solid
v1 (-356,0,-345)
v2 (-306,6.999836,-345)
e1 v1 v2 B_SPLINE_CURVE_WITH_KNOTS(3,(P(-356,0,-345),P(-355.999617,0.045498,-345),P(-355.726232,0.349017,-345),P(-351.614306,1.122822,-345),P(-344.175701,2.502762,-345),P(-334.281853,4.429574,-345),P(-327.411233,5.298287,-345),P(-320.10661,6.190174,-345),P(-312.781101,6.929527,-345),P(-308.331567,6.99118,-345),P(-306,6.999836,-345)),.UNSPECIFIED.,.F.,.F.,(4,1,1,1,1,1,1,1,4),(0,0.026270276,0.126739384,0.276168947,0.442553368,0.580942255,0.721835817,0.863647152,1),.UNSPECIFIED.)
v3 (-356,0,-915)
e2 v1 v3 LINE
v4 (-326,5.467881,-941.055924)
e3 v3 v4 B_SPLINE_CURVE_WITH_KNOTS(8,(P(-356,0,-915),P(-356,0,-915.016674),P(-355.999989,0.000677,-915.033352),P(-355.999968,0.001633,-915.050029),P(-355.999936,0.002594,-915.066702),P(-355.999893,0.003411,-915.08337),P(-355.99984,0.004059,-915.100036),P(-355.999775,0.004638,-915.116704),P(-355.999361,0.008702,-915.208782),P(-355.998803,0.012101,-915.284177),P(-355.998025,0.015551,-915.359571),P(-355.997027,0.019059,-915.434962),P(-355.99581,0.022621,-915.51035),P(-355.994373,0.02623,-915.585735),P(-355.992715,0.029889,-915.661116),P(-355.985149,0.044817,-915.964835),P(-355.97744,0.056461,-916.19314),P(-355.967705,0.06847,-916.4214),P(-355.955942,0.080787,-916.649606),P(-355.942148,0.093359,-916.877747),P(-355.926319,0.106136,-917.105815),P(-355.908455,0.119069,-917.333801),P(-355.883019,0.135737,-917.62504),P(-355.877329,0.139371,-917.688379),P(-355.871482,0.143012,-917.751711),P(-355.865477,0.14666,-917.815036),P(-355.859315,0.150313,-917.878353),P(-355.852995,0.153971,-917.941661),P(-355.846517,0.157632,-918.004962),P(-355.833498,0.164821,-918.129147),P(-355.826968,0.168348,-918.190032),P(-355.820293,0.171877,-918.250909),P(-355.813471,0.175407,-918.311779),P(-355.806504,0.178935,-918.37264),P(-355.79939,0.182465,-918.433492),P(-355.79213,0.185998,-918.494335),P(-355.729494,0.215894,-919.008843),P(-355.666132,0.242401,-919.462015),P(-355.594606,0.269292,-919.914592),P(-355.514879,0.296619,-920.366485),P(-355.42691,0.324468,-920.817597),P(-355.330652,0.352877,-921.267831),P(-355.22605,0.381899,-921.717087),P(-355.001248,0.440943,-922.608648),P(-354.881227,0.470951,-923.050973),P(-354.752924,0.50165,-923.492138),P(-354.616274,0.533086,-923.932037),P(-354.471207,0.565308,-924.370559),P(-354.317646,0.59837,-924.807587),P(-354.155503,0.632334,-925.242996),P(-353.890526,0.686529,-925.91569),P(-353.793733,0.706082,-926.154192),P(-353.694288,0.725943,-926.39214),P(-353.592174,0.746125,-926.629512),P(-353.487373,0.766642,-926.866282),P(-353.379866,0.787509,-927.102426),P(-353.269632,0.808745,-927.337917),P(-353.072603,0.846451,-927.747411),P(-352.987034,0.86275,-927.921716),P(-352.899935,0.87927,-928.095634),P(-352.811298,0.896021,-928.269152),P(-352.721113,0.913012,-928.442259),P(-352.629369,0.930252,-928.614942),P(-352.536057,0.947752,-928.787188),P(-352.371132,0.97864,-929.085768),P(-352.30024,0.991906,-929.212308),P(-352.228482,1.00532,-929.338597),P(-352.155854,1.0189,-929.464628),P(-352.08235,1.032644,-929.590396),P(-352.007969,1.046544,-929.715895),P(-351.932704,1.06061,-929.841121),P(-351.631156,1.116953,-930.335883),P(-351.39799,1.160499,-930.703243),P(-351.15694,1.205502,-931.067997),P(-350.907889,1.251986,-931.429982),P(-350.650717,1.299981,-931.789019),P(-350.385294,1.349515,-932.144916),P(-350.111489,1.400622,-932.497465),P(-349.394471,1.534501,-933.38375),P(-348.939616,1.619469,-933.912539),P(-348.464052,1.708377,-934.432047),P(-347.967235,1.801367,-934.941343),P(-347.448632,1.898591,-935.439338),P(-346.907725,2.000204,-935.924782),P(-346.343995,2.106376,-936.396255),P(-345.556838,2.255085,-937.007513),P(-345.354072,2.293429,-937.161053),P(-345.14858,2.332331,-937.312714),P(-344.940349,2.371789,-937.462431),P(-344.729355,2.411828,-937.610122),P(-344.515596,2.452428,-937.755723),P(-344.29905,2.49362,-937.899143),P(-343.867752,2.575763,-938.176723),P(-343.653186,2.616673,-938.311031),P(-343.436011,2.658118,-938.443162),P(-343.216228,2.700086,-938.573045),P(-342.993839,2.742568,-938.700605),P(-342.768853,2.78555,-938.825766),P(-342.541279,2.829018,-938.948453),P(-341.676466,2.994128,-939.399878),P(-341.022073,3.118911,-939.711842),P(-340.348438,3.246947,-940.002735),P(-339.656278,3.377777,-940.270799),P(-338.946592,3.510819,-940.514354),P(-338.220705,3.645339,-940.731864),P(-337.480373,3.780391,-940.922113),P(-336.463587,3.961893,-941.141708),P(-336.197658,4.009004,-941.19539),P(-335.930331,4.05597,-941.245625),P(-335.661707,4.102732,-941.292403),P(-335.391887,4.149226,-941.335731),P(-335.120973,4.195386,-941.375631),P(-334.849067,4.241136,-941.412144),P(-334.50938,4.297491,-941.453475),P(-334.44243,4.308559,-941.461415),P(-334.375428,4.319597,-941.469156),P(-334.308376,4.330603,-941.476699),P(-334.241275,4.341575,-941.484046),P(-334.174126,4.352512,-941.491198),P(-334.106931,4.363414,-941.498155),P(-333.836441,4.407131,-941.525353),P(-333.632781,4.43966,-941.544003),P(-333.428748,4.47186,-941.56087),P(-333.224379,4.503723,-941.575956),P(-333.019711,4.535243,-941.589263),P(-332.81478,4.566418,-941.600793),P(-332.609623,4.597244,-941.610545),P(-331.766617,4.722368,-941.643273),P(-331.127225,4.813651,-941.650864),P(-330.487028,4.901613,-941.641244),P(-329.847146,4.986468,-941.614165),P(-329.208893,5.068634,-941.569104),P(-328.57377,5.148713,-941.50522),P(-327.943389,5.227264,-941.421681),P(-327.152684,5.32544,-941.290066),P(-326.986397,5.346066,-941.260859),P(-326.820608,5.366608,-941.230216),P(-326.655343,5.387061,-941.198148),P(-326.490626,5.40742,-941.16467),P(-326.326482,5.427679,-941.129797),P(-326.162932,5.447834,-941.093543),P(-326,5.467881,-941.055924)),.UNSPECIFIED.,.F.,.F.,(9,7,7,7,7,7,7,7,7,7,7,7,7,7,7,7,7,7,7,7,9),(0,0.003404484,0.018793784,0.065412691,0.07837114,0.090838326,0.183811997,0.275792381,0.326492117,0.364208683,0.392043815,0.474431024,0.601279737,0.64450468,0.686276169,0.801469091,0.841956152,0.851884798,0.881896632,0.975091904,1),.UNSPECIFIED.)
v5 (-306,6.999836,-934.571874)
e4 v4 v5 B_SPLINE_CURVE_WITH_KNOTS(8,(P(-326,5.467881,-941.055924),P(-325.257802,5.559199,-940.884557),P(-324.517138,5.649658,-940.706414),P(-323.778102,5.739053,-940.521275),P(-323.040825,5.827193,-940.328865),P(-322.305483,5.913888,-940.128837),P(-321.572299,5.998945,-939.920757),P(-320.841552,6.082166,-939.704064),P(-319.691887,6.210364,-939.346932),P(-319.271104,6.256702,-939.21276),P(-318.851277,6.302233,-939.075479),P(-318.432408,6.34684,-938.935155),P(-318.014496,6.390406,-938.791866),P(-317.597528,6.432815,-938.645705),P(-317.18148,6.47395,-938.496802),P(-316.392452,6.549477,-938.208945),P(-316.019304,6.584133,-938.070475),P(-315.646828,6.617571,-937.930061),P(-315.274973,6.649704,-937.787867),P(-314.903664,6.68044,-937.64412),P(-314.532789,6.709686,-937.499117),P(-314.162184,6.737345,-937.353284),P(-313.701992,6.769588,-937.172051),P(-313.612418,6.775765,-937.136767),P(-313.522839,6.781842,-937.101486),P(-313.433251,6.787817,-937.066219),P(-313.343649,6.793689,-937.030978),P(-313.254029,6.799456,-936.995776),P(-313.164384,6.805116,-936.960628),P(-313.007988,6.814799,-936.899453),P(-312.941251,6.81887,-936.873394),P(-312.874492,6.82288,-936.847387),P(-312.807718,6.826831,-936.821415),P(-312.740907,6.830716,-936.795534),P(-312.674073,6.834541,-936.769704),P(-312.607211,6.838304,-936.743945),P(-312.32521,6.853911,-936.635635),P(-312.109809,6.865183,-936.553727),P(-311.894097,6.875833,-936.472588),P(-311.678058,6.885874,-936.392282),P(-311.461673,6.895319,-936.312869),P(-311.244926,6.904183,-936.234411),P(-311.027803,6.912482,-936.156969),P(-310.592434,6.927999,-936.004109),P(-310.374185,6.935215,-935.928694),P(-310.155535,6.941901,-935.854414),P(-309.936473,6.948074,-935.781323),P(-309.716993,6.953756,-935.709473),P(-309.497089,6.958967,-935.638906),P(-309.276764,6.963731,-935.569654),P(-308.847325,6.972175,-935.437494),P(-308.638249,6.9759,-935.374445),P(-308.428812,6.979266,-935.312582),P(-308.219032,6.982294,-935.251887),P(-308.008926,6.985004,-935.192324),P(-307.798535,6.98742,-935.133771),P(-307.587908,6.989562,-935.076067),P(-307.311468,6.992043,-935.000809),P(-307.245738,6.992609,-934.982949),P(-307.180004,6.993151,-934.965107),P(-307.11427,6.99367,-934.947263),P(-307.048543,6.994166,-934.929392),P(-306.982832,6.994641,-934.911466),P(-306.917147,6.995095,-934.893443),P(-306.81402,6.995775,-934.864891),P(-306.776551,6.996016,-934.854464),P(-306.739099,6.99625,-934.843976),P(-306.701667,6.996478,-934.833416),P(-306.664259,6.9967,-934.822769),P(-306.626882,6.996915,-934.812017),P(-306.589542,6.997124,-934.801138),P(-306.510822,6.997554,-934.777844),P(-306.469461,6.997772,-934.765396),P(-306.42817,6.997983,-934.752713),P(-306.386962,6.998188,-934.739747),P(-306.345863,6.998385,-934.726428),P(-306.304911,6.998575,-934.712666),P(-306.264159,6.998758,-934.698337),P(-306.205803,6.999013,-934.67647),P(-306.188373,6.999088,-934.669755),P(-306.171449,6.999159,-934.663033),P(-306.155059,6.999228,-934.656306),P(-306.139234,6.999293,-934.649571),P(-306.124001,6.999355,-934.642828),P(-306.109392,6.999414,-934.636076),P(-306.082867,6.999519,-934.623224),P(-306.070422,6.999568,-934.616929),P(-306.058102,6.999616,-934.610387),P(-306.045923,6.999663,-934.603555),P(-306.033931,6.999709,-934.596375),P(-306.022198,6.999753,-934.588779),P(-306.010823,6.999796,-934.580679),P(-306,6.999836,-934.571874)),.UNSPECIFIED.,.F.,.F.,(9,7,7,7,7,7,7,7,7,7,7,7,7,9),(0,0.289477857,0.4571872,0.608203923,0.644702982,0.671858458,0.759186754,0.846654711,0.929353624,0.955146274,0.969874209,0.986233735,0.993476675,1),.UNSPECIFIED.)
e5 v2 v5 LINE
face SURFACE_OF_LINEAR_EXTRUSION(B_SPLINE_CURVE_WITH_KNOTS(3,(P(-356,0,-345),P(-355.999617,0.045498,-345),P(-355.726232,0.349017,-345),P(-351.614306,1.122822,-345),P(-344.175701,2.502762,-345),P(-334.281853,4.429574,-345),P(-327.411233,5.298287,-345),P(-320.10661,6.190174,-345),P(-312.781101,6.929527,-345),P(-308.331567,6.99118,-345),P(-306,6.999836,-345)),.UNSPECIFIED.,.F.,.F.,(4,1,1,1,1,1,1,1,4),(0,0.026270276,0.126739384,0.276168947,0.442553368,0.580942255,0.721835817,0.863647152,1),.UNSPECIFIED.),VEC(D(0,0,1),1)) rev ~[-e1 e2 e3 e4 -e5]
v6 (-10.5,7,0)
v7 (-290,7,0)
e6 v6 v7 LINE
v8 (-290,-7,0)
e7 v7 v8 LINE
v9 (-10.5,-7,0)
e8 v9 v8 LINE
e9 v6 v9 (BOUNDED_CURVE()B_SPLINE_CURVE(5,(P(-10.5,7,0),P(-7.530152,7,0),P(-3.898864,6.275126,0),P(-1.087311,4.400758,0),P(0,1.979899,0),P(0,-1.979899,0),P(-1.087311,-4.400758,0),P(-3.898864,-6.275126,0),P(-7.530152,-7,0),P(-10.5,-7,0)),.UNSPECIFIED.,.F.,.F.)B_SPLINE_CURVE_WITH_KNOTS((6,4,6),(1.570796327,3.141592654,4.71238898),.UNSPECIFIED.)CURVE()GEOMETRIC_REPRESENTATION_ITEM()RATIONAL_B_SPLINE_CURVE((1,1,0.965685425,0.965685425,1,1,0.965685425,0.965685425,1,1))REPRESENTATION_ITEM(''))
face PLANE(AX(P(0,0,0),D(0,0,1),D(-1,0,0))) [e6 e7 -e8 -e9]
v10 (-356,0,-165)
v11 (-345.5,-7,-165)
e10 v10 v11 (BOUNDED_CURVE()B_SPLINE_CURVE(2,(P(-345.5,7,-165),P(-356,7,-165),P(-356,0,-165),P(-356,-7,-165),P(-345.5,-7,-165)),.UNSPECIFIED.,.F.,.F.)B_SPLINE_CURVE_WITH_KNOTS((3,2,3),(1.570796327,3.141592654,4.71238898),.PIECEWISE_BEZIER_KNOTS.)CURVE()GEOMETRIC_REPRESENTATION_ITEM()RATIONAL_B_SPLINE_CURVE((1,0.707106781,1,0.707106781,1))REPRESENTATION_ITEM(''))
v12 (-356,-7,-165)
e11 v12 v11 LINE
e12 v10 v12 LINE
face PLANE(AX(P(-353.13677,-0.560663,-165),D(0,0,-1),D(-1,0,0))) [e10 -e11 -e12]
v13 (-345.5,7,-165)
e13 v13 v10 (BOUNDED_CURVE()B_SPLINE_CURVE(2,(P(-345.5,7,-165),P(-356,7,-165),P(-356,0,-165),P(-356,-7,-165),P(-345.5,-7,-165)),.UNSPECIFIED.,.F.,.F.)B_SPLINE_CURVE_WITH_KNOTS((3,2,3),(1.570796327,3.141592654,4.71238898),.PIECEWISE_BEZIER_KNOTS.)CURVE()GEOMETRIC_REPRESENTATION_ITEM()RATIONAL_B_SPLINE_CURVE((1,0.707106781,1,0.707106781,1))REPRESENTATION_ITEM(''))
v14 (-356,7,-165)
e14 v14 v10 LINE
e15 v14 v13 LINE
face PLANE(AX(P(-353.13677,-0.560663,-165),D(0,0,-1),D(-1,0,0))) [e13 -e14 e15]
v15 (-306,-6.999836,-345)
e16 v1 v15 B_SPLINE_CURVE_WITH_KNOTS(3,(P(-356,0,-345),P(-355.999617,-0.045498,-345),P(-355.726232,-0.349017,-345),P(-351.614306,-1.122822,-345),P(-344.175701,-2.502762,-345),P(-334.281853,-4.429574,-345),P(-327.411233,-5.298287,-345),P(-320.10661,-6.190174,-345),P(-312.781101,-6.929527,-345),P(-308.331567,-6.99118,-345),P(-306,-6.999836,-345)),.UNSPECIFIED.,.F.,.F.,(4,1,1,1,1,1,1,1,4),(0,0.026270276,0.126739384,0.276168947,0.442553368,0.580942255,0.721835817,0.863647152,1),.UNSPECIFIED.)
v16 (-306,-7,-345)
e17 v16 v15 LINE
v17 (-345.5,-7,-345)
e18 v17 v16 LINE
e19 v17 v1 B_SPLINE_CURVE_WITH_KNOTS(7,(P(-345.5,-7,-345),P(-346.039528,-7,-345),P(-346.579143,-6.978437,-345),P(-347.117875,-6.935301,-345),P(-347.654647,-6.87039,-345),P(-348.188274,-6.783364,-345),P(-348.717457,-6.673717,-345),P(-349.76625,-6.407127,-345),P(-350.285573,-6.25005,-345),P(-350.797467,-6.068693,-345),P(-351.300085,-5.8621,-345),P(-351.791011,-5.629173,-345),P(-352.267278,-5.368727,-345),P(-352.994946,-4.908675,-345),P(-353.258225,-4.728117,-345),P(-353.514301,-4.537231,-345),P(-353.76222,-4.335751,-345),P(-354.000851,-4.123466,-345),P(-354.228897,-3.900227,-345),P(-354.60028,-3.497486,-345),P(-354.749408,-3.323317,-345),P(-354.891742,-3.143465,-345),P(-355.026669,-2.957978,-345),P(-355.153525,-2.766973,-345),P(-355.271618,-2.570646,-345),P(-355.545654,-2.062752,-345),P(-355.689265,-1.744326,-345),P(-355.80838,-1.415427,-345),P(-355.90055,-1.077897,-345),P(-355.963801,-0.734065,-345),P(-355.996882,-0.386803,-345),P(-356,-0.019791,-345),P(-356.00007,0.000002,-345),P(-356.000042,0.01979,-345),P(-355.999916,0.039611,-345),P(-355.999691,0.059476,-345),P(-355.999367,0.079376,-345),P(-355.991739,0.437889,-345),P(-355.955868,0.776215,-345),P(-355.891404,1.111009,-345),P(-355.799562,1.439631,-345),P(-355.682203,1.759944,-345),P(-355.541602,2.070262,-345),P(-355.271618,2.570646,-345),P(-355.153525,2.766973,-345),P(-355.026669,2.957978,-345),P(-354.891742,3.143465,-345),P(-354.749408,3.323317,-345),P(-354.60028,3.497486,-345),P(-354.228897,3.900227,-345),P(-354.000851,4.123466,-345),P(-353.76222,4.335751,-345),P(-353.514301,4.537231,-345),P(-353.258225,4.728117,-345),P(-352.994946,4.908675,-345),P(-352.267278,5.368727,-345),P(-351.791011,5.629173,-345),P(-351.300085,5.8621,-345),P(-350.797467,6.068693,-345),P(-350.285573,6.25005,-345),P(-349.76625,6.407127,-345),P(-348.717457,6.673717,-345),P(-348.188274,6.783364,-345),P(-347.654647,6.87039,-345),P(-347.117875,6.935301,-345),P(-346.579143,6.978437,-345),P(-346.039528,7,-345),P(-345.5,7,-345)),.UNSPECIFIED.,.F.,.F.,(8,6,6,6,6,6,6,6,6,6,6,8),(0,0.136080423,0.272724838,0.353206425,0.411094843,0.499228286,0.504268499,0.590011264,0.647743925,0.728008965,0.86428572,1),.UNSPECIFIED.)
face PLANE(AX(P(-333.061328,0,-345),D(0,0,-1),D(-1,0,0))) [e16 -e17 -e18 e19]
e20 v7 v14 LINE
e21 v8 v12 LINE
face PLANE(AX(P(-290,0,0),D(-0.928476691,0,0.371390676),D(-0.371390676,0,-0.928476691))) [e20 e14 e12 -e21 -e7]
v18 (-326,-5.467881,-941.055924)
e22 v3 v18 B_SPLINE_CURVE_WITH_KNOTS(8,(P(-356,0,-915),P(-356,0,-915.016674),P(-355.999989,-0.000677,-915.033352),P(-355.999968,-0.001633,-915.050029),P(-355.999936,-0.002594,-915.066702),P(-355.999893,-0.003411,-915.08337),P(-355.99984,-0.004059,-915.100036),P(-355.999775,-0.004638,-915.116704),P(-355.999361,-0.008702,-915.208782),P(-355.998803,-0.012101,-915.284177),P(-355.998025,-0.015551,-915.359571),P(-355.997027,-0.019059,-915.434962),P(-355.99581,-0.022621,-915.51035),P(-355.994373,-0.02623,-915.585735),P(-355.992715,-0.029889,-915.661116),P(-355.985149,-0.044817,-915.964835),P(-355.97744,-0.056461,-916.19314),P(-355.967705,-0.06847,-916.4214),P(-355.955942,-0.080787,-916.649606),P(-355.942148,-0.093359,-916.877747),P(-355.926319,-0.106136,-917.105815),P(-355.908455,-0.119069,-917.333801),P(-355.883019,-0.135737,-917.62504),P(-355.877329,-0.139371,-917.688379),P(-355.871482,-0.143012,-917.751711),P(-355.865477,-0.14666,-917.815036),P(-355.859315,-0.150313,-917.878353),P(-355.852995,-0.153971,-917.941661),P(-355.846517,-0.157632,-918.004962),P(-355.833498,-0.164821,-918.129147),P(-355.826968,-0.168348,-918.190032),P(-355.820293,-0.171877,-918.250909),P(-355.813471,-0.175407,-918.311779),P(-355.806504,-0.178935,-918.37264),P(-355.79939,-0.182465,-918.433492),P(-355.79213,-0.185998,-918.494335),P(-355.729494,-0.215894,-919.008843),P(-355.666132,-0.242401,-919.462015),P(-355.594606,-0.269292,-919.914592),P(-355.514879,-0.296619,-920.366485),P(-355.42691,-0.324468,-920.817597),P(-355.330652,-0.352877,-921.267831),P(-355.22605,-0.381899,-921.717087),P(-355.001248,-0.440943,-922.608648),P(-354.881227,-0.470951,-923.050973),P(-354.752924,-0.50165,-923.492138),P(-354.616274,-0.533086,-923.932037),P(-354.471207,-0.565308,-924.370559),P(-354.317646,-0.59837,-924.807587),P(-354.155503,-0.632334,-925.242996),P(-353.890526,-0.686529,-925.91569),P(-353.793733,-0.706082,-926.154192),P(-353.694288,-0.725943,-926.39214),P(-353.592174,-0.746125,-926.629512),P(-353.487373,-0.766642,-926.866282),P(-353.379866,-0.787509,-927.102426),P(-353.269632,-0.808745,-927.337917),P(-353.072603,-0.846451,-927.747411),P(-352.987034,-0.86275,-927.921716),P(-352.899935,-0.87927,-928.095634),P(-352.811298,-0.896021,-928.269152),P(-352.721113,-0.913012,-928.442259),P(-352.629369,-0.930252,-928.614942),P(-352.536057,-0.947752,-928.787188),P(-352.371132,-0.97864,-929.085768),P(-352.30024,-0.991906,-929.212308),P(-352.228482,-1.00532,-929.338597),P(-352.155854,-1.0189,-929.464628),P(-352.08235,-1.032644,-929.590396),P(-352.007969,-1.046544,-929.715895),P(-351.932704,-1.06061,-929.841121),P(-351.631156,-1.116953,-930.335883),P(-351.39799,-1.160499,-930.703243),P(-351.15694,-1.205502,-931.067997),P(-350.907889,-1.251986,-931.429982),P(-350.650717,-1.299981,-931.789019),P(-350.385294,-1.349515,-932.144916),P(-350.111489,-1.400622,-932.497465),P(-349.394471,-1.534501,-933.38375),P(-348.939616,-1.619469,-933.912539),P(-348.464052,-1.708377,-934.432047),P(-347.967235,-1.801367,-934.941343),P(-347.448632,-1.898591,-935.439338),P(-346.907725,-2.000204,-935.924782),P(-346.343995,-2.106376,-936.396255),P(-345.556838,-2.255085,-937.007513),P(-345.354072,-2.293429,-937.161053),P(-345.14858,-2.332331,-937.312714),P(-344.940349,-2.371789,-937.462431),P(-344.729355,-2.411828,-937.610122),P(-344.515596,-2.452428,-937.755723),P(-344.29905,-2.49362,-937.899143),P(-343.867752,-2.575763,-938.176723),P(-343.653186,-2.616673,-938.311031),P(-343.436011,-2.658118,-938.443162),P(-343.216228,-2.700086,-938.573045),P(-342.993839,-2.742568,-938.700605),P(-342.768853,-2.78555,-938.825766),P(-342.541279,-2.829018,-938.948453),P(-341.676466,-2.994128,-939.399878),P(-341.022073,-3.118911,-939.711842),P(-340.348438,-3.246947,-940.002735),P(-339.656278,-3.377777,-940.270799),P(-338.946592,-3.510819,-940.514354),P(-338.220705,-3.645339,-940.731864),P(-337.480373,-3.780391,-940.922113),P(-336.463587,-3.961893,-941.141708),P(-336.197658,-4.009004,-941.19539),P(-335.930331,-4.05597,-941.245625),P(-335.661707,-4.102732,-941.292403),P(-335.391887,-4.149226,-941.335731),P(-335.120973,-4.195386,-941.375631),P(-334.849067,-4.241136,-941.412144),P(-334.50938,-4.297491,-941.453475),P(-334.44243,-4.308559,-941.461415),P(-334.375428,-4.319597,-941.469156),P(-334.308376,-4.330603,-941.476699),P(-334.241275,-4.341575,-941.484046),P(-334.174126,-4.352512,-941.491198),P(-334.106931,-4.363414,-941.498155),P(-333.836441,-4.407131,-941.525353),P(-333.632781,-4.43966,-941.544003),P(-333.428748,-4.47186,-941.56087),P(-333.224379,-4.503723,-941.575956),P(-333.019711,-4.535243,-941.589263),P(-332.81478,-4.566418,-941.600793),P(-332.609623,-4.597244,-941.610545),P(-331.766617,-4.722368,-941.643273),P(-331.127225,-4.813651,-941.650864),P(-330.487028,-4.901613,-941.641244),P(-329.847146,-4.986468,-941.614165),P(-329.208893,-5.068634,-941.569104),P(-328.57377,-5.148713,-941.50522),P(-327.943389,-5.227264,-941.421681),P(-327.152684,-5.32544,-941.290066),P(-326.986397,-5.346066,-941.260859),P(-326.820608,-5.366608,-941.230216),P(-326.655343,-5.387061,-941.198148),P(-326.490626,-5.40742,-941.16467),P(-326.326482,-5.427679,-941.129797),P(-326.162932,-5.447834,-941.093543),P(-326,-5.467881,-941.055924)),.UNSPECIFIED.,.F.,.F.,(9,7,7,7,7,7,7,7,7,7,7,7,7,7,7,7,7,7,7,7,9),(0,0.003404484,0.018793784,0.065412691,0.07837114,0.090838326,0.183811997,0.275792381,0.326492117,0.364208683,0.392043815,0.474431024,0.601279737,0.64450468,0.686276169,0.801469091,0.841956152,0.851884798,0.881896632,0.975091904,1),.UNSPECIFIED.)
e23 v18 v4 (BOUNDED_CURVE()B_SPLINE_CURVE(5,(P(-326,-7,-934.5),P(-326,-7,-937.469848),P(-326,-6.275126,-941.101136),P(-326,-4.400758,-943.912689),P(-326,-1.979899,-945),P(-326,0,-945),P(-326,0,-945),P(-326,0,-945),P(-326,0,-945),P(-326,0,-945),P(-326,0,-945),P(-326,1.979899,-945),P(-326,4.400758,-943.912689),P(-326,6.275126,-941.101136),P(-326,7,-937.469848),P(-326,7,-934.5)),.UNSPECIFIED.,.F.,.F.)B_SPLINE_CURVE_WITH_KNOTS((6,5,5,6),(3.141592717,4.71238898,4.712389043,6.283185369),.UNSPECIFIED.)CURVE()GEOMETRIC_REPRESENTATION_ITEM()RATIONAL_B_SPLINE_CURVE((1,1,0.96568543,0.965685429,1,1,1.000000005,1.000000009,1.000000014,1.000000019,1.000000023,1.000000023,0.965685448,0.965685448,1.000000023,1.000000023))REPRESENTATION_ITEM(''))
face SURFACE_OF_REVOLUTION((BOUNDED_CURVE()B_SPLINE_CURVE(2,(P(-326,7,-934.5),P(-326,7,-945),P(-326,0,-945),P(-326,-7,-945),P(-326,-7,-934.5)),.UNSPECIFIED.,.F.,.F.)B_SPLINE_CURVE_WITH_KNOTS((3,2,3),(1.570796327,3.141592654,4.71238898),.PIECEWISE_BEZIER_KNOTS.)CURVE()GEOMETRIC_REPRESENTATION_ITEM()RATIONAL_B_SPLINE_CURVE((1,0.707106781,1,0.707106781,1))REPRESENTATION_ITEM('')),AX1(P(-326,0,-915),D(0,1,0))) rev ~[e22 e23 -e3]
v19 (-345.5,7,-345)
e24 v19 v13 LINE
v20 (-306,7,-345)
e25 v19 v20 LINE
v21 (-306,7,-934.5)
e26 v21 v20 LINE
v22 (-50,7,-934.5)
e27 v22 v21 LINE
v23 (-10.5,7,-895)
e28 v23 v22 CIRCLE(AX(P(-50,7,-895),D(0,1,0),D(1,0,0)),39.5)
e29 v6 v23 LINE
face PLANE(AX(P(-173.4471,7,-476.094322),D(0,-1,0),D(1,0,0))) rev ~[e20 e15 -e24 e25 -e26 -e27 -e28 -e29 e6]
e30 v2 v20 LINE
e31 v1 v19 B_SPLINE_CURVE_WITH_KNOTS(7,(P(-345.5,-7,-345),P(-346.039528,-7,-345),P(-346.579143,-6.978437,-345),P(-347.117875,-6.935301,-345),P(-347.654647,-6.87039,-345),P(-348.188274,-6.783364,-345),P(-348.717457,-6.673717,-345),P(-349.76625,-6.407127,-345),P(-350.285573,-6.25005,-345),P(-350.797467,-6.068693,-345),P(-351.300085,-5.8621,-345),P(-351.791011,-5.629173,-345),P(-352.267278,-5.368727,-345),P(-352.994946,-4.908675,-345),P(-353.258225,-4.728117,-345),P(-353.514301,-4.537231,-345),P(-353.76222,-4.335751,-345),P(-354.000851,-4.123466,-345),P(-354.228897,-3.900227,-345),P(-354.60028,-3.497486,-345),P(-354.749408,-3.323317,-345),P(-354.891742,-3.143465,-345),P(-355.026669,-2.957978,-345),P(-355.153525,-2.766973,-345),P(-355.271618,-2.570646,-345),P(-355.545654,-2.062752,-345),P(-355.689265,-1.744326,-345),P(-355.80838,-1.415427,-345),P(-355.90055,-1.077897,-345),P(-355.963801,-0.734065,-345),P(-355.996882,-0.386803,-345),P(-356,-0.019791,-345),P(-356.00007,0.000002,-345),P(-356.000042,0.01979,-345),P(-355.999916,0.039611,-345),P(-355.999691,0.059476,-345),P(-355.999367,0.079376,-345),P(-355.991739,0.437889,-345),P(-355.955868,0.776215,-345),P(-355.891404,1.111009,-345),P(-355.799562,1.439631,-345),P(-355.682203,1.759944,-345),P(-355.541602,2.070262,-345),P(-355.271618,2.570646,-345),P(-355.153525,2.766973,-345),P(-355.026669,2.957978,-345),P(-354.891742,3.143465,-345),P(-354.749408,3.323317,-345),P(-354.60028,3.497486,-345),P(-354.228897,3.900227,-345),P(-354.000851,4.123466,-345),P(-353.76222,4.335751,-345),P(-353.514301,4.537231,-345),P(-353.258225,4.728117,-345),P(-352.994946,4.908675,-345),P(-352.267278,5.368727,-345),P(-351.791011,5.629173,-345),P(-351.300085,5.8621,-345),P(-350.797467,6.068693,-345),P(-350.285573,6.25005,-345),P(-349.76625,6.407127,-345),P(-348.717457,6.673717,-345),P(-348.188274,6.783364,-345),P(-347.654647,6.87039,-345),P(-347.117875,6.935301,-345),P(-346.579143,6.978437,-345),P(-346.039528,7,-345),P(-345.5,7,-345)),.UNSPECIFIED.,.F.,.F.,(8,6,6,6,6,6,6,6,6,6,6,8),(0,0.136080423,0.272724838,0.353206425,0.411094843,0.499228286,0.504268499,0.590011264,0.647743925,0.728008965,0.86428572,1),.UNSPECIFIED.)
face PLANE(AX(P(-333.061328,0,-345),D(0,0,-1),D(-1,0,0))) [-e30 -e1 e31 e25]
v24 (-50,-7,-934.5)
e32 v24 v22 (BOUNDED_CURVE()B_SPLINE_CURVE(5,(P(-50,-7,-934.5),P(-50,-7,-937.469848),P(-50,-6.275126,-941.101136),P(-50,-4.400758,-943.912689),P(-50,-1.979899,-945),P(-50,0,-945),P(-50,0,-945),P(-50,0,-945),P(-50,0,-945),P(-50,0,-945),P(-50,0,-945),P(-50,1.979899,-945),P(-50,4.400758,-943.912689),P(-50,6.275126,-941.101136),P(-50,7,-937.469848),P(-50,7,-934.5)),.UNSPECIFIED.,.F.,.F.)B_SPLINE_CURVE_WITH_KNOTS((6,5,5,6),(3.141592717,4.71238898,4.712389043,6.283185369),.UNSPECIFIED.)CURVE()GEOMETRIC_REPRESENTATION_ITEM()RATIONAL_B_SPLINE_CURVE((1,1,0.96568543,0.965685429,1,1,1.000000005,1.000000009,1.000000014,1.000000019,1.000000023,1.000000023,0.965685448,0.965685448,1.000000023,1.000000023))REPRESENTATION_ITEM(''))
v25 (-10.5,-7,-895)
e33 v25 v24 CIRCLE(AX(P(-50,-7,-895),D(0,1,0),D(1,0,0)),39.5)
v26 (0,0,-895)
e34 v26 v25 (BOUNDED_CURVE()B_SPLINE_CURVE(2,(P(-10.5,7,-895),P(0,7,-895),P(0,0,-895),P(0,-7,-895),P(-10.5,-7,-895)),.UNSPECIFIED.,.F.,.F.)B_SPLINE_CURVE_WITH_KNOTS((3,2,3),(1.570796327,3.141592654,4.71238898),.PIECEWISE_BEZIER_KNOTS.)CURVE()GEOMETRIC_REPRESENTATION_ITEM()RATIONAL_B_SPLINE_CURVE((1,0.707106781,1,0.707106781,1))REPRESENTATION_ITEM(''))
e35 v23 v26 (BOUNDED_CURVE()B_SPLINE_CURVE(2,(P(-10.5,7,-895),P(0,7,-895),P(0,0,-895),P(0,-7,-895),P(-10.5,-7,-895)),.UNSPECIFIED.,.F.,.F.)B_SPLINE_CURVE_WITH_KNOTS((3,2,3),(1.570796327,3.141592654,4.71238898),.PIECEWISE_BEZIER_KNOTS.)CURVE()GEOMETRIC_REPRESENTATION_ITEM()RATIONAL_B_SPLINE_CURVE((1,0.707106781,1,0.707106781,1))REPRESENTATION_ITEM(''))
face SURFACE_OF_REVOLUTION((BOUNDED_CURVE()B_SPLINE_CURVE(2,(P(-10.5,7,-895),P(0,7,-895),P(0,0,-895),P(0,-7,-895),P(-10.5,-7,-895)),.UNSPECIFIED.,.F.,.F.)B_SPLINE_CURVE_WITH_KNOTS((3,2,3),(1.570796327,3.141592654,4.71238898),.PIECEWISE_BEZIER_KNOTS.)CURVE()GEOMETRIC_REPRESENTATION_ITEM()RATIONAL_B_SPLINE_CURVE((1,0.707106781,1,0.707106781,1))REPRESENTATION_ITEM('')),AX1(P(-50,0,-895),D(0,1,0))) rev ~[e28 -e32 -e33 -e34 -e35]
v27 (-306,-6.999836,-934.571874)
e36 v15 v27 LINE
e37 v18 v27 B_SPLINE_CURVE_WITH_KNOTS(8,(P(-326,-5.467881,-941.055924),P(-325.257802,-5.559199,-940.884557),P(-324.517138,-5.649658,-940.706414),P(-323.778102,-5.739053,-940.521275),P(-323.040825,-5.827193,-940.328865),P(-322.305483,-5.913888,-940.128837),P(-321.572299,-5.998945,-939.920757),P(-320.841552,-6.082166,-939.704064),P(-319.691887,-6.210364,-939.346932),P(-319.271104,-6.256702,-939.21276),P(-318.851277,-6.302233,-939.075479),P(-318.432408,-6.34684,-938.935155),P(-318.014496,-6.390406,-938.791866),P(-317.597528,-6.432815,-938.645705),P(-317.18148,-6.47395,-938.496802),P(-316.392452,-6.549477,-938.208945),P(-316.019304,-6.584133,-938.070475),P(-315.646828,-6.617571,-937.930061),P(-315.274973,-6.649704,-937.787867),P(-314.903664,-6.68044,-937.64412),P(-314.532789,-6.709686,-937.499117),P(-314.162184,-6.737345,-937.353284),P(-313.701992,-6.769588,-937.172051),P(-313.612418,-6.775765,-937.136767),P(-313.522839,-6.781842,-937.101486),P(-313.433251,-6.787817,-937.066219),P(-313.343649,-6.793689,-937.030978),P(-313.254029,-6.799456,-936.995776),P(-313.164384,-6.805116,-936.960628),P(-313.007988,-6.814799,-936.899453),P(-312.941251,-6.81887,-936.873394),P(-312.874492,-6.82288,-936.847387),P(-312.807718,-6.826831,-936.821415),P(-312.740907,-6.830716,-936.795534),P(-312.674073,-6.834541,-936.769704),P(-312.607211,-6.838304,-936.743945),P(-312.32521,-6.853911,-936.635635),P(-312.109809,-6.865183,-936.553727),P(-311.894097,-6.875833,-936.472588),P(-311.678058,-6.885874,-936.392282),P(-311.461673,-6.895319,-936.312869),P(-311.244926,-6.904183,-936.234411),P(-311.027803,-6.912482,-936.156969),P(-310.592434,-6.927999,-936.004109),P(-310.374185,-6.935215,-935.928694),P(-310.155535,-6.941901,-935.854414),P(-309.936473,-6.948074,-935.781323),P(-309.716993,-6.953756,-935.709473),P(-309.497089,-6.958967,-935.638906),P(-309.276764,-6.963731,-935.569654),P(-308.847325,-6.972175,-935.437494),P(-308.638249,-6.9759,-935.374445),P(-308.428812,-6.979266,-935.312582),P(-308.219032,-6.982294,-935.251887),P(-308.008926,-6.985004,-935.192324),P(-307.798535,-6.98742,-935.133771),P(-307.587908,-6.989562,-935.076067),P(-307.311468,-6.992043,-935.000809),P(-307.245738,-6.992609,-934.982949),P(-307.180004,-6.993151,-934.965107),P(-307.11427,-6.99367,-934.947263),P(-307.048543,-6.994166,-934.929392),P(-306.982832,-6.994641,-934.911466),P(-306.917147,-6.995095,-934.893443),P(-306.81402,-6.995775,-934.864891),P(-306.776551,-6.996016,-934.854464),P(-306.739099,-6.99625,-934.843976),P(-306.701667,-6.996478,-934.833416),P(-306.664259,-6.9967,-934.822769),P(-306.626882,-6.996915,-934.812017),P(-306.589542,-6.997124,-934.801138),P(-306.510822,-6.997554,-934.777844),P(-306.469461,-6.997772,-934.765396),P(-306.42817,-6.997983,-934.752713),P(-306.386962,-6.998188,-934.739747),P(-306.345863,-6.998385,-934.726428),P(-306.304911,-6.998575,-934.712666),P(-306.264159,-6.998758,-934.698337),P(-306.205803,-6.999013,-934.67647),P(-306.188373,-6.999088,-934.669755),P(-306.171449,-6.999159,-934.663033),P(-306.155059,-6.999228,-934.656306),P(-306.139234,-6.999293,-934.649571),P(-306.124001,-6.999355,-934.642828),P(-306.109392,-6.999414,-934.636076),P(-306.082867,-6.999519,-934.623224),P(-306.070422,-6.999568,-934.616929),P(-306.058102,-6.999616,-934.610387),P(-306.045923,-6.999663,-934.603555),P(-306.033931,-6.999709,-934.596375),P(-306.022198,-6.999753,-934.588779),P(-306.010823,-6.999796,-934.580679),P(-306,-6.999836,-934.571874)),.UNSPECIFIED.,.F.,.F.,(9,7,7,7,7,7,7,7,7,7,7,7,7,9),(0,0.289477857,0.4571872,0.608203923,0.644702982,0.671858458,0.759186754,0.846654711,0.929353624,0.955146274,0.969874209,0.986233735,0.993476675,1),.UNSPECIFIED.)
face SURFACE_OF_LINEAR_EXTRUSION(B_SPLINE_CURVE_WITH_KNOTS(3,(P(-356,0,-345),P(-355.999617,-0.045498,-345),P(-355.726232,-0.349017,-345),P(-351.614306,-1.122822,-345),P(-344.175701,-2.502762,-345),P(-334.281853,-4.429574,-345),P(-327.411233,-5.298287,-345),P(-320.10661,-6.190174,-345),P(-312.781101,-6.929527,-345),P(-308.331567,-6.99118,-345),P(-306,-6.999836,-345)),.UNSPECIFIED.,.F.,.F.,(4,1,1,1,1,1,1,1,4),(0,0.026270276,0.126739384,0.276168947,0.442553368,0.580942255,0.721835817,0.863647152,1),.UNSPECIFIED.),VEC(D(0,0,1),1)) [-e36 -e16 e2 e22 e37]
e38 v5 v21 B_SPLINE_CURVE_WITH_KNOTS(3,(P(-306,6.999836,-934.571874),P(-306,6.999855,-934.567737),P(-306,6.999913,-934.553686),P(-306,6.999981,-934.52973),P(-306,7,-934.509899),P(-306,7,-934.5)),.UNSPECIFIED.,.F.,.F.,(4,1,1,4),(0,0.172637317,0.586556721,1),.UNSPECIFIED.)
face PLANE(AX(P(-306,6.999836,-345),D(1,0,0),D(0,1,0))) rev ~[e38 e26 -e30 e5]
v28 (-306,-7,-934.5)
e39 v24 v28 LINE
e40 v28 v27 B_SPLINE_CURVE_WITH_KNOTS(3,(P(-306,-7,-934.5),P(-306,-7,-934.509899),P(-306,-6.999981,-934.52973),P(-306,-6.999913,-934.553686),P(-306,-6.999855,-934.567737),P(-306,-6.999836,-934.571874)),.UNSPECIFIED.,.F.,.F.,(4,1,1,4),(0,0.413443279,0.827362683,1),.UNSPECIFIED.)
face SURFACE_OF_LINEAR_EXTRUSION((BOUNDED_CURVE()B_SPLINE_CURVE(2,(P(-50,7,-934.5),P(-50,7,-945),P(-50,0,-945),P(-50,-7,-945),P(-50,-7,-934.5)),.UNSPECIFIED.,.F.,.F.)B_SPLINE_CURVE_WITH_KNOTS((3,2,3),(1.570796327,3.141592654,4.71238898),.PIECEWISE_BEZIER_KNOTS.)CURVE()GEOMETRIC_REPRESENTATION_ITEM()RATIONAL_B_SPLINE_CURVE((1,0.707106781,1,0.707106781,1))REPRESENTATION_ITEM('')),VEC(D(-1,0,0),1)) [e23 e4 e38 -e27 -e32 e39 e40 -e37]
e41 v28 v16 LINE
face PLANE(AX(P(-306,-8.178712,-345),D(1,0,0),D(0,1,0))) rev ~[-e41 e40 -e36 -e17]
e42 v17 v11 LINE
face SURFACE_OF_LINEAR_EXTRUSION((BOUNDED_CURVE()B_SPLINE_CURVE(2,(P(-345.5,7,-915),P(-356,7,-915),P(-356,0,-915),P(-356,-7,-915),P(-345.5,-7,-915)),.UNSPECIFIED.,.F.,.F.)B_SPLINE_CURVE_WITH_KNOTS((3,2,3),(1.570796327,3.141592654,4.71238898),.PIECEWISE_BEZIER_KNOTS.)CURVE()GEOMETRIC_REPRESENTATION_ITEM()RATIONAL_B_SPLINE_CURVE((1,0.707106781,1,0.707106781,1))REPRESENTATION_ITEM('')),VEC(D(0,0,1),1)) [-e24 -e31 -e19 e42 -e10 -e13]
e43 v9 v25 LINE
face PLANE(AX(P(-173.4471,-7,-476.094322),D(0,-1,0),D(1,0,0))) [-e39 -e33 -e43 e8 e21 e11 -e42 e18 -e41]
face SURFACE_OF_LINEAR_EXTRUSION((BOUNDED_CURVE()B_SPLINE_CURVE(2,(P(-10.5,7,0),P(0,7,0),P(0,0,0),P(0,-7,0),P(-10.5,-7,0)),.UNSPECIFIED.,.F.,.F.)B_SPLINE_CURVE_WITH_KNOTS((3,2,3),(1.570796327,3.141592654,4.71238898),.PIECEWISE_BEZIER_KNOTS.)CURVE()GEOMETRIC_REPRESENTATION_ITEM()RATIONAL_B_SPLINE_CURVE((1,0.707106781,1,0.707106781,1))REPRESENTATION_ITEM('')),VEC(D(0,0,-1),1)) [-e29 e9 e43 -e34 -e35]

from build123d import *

# Parameters (mm, degrees)
F2_DEPTH = 7
F8_DEPTH = 975


with BuildPart() as f2:
    # F1 (on Front) → F2 (new body, symmetric)
    with BuildSketch(Plane.XZ):
        with BuildLine():
            Line((0, -895), (0, 0))
            Line((0, 0), (-290, 0))
            Line((-290, 0), (-356, -165))
            Line((-356, -165), (-356, -915))
            ThreePointArc((-356, -915), (-347.2132034356, -936.2132034356), (-326, -945))
            Line((-326, -945), (-50, -945))
            ThreePointArc((-50, -945), (-14.6446609407, -930.3553390593), (0, -895))
        make_face()
    extrude(amount=F2_DEPTH, both=True)

    # F7: sweep along a path in F6
    with BuildLine(Plane.XZ) as f7_path:
        Line((0, 0), (0, -895))
        ThreePointArc((0, -895), (-14.6446609407, -930.3553390593), (-50, -945))
        Line((-50, -945), (-326, -945))
        ThreePointArc((-326, -945), (-347.2132034356, -936.2132034356), (-356, -915))
        Line((-356, -915), (-356, -165))
    # F3 (on Top) → F7 (sweep, cut)
    with BuildSketch(Plane.XY):
        with BuildLine():
            add(Edge.make_bspline(
                [(-10.5, -7), (0, -7), (0, 0), (0, 7), (-10.5, 7)],
                knots=[1.5707963268, 1.5707963268, 1.5707963268, 3.1415926536, 3.1415926536, 4.7123889804, 4.7123889804, 4.7123889804], degree=2, weights=[1, 0.7071067812, 1, 0.7071067812, 1]))
            Line((-10.5, -7), (-10.5, -10.9903514385))
            Line((-10.5, -10.9903514385), (2.9582334682, -10.9903514385))
            Line((2.9582334682, -10.9903514385), (2.9582334682, 9.6543207765))
            Line((2.9582334682, 9.6543207765), (-10.5, 9.6543207765))
            Line((-10.5, 9.6543207765), (-10.5, 7))
        make_face()
    sweep(path=f7_path.line, mode=Mode.SUBTRACT)

    # F5 (on offset) → F8 (cut)
    with BuildSketch(Plane.XY.offset(-345)):
        with BuildLine():
            add(Edge.make_bspline(
                [(-356, 0), (-355.9996167193, -0.0454979949), (-355.7262318617, -0.3490169016), (-351.6143061608, -1.1228221561), (-344.1757011611, -2.5027621783), (-334.2818527153, -4.4295739273), (-327.4112328055, -5.2982865334), (-320.106609709, -6.1901737902), (-312.7811010491, -6.9295265019), (-308.3315673438, -6.9911803665), (-306, -6.999836)],
                knots=[0, 0, 0, 0, 0.0262702759, 0.1267393838, 0.2761689471, 0.4425533677, 0.5809422546, 0.7218358167, 0.8636471523, 1, 1, 1, 1], degree=3))
            add(Edge.make_bspline(
                [(-356, 0), (-355.9996167193, 0.0454979949), (-355.7262318617, 0.3490169016), (-351.6143061608, 1.1228221561), (-344.1757011611, 2.5027621783), (-334.2818527153, 4.4295739273), (-327.4112328055, 5.2982865334), (-320.106609709, 6.1901737902), (-312.7811010491, 6.9295265019), (-308.3315673438, 6.9911803665), (-306, 6.999836)],
                knots=[0, 0, 0, 0, 0.0262702759, 0.1267393838, 0.2761689471, 0.4425533677, 0.5809422546, 0.7218358167, 0.8636471523, 1, 1, 1, 1], degree=3))
            Line((-306, 6.999836), (-306, 8.1787118688))
            Line((-306, 8.1787118688), (-357.3989272118, 8.1787118688))
            Line((-357.3989272118, 8.1787118688), (-357.3989272118, -8.1787118688))
            Line((-357.3989272118, -8.1787118688), (-306, -8.1787118688))
            Line((-306, -8.1787118688), (-306, -6.999836))
        make_face()
    extrude(amount=-F8_DEPTH, mode=Mode.SUBTRACT)


solid = f2.part
